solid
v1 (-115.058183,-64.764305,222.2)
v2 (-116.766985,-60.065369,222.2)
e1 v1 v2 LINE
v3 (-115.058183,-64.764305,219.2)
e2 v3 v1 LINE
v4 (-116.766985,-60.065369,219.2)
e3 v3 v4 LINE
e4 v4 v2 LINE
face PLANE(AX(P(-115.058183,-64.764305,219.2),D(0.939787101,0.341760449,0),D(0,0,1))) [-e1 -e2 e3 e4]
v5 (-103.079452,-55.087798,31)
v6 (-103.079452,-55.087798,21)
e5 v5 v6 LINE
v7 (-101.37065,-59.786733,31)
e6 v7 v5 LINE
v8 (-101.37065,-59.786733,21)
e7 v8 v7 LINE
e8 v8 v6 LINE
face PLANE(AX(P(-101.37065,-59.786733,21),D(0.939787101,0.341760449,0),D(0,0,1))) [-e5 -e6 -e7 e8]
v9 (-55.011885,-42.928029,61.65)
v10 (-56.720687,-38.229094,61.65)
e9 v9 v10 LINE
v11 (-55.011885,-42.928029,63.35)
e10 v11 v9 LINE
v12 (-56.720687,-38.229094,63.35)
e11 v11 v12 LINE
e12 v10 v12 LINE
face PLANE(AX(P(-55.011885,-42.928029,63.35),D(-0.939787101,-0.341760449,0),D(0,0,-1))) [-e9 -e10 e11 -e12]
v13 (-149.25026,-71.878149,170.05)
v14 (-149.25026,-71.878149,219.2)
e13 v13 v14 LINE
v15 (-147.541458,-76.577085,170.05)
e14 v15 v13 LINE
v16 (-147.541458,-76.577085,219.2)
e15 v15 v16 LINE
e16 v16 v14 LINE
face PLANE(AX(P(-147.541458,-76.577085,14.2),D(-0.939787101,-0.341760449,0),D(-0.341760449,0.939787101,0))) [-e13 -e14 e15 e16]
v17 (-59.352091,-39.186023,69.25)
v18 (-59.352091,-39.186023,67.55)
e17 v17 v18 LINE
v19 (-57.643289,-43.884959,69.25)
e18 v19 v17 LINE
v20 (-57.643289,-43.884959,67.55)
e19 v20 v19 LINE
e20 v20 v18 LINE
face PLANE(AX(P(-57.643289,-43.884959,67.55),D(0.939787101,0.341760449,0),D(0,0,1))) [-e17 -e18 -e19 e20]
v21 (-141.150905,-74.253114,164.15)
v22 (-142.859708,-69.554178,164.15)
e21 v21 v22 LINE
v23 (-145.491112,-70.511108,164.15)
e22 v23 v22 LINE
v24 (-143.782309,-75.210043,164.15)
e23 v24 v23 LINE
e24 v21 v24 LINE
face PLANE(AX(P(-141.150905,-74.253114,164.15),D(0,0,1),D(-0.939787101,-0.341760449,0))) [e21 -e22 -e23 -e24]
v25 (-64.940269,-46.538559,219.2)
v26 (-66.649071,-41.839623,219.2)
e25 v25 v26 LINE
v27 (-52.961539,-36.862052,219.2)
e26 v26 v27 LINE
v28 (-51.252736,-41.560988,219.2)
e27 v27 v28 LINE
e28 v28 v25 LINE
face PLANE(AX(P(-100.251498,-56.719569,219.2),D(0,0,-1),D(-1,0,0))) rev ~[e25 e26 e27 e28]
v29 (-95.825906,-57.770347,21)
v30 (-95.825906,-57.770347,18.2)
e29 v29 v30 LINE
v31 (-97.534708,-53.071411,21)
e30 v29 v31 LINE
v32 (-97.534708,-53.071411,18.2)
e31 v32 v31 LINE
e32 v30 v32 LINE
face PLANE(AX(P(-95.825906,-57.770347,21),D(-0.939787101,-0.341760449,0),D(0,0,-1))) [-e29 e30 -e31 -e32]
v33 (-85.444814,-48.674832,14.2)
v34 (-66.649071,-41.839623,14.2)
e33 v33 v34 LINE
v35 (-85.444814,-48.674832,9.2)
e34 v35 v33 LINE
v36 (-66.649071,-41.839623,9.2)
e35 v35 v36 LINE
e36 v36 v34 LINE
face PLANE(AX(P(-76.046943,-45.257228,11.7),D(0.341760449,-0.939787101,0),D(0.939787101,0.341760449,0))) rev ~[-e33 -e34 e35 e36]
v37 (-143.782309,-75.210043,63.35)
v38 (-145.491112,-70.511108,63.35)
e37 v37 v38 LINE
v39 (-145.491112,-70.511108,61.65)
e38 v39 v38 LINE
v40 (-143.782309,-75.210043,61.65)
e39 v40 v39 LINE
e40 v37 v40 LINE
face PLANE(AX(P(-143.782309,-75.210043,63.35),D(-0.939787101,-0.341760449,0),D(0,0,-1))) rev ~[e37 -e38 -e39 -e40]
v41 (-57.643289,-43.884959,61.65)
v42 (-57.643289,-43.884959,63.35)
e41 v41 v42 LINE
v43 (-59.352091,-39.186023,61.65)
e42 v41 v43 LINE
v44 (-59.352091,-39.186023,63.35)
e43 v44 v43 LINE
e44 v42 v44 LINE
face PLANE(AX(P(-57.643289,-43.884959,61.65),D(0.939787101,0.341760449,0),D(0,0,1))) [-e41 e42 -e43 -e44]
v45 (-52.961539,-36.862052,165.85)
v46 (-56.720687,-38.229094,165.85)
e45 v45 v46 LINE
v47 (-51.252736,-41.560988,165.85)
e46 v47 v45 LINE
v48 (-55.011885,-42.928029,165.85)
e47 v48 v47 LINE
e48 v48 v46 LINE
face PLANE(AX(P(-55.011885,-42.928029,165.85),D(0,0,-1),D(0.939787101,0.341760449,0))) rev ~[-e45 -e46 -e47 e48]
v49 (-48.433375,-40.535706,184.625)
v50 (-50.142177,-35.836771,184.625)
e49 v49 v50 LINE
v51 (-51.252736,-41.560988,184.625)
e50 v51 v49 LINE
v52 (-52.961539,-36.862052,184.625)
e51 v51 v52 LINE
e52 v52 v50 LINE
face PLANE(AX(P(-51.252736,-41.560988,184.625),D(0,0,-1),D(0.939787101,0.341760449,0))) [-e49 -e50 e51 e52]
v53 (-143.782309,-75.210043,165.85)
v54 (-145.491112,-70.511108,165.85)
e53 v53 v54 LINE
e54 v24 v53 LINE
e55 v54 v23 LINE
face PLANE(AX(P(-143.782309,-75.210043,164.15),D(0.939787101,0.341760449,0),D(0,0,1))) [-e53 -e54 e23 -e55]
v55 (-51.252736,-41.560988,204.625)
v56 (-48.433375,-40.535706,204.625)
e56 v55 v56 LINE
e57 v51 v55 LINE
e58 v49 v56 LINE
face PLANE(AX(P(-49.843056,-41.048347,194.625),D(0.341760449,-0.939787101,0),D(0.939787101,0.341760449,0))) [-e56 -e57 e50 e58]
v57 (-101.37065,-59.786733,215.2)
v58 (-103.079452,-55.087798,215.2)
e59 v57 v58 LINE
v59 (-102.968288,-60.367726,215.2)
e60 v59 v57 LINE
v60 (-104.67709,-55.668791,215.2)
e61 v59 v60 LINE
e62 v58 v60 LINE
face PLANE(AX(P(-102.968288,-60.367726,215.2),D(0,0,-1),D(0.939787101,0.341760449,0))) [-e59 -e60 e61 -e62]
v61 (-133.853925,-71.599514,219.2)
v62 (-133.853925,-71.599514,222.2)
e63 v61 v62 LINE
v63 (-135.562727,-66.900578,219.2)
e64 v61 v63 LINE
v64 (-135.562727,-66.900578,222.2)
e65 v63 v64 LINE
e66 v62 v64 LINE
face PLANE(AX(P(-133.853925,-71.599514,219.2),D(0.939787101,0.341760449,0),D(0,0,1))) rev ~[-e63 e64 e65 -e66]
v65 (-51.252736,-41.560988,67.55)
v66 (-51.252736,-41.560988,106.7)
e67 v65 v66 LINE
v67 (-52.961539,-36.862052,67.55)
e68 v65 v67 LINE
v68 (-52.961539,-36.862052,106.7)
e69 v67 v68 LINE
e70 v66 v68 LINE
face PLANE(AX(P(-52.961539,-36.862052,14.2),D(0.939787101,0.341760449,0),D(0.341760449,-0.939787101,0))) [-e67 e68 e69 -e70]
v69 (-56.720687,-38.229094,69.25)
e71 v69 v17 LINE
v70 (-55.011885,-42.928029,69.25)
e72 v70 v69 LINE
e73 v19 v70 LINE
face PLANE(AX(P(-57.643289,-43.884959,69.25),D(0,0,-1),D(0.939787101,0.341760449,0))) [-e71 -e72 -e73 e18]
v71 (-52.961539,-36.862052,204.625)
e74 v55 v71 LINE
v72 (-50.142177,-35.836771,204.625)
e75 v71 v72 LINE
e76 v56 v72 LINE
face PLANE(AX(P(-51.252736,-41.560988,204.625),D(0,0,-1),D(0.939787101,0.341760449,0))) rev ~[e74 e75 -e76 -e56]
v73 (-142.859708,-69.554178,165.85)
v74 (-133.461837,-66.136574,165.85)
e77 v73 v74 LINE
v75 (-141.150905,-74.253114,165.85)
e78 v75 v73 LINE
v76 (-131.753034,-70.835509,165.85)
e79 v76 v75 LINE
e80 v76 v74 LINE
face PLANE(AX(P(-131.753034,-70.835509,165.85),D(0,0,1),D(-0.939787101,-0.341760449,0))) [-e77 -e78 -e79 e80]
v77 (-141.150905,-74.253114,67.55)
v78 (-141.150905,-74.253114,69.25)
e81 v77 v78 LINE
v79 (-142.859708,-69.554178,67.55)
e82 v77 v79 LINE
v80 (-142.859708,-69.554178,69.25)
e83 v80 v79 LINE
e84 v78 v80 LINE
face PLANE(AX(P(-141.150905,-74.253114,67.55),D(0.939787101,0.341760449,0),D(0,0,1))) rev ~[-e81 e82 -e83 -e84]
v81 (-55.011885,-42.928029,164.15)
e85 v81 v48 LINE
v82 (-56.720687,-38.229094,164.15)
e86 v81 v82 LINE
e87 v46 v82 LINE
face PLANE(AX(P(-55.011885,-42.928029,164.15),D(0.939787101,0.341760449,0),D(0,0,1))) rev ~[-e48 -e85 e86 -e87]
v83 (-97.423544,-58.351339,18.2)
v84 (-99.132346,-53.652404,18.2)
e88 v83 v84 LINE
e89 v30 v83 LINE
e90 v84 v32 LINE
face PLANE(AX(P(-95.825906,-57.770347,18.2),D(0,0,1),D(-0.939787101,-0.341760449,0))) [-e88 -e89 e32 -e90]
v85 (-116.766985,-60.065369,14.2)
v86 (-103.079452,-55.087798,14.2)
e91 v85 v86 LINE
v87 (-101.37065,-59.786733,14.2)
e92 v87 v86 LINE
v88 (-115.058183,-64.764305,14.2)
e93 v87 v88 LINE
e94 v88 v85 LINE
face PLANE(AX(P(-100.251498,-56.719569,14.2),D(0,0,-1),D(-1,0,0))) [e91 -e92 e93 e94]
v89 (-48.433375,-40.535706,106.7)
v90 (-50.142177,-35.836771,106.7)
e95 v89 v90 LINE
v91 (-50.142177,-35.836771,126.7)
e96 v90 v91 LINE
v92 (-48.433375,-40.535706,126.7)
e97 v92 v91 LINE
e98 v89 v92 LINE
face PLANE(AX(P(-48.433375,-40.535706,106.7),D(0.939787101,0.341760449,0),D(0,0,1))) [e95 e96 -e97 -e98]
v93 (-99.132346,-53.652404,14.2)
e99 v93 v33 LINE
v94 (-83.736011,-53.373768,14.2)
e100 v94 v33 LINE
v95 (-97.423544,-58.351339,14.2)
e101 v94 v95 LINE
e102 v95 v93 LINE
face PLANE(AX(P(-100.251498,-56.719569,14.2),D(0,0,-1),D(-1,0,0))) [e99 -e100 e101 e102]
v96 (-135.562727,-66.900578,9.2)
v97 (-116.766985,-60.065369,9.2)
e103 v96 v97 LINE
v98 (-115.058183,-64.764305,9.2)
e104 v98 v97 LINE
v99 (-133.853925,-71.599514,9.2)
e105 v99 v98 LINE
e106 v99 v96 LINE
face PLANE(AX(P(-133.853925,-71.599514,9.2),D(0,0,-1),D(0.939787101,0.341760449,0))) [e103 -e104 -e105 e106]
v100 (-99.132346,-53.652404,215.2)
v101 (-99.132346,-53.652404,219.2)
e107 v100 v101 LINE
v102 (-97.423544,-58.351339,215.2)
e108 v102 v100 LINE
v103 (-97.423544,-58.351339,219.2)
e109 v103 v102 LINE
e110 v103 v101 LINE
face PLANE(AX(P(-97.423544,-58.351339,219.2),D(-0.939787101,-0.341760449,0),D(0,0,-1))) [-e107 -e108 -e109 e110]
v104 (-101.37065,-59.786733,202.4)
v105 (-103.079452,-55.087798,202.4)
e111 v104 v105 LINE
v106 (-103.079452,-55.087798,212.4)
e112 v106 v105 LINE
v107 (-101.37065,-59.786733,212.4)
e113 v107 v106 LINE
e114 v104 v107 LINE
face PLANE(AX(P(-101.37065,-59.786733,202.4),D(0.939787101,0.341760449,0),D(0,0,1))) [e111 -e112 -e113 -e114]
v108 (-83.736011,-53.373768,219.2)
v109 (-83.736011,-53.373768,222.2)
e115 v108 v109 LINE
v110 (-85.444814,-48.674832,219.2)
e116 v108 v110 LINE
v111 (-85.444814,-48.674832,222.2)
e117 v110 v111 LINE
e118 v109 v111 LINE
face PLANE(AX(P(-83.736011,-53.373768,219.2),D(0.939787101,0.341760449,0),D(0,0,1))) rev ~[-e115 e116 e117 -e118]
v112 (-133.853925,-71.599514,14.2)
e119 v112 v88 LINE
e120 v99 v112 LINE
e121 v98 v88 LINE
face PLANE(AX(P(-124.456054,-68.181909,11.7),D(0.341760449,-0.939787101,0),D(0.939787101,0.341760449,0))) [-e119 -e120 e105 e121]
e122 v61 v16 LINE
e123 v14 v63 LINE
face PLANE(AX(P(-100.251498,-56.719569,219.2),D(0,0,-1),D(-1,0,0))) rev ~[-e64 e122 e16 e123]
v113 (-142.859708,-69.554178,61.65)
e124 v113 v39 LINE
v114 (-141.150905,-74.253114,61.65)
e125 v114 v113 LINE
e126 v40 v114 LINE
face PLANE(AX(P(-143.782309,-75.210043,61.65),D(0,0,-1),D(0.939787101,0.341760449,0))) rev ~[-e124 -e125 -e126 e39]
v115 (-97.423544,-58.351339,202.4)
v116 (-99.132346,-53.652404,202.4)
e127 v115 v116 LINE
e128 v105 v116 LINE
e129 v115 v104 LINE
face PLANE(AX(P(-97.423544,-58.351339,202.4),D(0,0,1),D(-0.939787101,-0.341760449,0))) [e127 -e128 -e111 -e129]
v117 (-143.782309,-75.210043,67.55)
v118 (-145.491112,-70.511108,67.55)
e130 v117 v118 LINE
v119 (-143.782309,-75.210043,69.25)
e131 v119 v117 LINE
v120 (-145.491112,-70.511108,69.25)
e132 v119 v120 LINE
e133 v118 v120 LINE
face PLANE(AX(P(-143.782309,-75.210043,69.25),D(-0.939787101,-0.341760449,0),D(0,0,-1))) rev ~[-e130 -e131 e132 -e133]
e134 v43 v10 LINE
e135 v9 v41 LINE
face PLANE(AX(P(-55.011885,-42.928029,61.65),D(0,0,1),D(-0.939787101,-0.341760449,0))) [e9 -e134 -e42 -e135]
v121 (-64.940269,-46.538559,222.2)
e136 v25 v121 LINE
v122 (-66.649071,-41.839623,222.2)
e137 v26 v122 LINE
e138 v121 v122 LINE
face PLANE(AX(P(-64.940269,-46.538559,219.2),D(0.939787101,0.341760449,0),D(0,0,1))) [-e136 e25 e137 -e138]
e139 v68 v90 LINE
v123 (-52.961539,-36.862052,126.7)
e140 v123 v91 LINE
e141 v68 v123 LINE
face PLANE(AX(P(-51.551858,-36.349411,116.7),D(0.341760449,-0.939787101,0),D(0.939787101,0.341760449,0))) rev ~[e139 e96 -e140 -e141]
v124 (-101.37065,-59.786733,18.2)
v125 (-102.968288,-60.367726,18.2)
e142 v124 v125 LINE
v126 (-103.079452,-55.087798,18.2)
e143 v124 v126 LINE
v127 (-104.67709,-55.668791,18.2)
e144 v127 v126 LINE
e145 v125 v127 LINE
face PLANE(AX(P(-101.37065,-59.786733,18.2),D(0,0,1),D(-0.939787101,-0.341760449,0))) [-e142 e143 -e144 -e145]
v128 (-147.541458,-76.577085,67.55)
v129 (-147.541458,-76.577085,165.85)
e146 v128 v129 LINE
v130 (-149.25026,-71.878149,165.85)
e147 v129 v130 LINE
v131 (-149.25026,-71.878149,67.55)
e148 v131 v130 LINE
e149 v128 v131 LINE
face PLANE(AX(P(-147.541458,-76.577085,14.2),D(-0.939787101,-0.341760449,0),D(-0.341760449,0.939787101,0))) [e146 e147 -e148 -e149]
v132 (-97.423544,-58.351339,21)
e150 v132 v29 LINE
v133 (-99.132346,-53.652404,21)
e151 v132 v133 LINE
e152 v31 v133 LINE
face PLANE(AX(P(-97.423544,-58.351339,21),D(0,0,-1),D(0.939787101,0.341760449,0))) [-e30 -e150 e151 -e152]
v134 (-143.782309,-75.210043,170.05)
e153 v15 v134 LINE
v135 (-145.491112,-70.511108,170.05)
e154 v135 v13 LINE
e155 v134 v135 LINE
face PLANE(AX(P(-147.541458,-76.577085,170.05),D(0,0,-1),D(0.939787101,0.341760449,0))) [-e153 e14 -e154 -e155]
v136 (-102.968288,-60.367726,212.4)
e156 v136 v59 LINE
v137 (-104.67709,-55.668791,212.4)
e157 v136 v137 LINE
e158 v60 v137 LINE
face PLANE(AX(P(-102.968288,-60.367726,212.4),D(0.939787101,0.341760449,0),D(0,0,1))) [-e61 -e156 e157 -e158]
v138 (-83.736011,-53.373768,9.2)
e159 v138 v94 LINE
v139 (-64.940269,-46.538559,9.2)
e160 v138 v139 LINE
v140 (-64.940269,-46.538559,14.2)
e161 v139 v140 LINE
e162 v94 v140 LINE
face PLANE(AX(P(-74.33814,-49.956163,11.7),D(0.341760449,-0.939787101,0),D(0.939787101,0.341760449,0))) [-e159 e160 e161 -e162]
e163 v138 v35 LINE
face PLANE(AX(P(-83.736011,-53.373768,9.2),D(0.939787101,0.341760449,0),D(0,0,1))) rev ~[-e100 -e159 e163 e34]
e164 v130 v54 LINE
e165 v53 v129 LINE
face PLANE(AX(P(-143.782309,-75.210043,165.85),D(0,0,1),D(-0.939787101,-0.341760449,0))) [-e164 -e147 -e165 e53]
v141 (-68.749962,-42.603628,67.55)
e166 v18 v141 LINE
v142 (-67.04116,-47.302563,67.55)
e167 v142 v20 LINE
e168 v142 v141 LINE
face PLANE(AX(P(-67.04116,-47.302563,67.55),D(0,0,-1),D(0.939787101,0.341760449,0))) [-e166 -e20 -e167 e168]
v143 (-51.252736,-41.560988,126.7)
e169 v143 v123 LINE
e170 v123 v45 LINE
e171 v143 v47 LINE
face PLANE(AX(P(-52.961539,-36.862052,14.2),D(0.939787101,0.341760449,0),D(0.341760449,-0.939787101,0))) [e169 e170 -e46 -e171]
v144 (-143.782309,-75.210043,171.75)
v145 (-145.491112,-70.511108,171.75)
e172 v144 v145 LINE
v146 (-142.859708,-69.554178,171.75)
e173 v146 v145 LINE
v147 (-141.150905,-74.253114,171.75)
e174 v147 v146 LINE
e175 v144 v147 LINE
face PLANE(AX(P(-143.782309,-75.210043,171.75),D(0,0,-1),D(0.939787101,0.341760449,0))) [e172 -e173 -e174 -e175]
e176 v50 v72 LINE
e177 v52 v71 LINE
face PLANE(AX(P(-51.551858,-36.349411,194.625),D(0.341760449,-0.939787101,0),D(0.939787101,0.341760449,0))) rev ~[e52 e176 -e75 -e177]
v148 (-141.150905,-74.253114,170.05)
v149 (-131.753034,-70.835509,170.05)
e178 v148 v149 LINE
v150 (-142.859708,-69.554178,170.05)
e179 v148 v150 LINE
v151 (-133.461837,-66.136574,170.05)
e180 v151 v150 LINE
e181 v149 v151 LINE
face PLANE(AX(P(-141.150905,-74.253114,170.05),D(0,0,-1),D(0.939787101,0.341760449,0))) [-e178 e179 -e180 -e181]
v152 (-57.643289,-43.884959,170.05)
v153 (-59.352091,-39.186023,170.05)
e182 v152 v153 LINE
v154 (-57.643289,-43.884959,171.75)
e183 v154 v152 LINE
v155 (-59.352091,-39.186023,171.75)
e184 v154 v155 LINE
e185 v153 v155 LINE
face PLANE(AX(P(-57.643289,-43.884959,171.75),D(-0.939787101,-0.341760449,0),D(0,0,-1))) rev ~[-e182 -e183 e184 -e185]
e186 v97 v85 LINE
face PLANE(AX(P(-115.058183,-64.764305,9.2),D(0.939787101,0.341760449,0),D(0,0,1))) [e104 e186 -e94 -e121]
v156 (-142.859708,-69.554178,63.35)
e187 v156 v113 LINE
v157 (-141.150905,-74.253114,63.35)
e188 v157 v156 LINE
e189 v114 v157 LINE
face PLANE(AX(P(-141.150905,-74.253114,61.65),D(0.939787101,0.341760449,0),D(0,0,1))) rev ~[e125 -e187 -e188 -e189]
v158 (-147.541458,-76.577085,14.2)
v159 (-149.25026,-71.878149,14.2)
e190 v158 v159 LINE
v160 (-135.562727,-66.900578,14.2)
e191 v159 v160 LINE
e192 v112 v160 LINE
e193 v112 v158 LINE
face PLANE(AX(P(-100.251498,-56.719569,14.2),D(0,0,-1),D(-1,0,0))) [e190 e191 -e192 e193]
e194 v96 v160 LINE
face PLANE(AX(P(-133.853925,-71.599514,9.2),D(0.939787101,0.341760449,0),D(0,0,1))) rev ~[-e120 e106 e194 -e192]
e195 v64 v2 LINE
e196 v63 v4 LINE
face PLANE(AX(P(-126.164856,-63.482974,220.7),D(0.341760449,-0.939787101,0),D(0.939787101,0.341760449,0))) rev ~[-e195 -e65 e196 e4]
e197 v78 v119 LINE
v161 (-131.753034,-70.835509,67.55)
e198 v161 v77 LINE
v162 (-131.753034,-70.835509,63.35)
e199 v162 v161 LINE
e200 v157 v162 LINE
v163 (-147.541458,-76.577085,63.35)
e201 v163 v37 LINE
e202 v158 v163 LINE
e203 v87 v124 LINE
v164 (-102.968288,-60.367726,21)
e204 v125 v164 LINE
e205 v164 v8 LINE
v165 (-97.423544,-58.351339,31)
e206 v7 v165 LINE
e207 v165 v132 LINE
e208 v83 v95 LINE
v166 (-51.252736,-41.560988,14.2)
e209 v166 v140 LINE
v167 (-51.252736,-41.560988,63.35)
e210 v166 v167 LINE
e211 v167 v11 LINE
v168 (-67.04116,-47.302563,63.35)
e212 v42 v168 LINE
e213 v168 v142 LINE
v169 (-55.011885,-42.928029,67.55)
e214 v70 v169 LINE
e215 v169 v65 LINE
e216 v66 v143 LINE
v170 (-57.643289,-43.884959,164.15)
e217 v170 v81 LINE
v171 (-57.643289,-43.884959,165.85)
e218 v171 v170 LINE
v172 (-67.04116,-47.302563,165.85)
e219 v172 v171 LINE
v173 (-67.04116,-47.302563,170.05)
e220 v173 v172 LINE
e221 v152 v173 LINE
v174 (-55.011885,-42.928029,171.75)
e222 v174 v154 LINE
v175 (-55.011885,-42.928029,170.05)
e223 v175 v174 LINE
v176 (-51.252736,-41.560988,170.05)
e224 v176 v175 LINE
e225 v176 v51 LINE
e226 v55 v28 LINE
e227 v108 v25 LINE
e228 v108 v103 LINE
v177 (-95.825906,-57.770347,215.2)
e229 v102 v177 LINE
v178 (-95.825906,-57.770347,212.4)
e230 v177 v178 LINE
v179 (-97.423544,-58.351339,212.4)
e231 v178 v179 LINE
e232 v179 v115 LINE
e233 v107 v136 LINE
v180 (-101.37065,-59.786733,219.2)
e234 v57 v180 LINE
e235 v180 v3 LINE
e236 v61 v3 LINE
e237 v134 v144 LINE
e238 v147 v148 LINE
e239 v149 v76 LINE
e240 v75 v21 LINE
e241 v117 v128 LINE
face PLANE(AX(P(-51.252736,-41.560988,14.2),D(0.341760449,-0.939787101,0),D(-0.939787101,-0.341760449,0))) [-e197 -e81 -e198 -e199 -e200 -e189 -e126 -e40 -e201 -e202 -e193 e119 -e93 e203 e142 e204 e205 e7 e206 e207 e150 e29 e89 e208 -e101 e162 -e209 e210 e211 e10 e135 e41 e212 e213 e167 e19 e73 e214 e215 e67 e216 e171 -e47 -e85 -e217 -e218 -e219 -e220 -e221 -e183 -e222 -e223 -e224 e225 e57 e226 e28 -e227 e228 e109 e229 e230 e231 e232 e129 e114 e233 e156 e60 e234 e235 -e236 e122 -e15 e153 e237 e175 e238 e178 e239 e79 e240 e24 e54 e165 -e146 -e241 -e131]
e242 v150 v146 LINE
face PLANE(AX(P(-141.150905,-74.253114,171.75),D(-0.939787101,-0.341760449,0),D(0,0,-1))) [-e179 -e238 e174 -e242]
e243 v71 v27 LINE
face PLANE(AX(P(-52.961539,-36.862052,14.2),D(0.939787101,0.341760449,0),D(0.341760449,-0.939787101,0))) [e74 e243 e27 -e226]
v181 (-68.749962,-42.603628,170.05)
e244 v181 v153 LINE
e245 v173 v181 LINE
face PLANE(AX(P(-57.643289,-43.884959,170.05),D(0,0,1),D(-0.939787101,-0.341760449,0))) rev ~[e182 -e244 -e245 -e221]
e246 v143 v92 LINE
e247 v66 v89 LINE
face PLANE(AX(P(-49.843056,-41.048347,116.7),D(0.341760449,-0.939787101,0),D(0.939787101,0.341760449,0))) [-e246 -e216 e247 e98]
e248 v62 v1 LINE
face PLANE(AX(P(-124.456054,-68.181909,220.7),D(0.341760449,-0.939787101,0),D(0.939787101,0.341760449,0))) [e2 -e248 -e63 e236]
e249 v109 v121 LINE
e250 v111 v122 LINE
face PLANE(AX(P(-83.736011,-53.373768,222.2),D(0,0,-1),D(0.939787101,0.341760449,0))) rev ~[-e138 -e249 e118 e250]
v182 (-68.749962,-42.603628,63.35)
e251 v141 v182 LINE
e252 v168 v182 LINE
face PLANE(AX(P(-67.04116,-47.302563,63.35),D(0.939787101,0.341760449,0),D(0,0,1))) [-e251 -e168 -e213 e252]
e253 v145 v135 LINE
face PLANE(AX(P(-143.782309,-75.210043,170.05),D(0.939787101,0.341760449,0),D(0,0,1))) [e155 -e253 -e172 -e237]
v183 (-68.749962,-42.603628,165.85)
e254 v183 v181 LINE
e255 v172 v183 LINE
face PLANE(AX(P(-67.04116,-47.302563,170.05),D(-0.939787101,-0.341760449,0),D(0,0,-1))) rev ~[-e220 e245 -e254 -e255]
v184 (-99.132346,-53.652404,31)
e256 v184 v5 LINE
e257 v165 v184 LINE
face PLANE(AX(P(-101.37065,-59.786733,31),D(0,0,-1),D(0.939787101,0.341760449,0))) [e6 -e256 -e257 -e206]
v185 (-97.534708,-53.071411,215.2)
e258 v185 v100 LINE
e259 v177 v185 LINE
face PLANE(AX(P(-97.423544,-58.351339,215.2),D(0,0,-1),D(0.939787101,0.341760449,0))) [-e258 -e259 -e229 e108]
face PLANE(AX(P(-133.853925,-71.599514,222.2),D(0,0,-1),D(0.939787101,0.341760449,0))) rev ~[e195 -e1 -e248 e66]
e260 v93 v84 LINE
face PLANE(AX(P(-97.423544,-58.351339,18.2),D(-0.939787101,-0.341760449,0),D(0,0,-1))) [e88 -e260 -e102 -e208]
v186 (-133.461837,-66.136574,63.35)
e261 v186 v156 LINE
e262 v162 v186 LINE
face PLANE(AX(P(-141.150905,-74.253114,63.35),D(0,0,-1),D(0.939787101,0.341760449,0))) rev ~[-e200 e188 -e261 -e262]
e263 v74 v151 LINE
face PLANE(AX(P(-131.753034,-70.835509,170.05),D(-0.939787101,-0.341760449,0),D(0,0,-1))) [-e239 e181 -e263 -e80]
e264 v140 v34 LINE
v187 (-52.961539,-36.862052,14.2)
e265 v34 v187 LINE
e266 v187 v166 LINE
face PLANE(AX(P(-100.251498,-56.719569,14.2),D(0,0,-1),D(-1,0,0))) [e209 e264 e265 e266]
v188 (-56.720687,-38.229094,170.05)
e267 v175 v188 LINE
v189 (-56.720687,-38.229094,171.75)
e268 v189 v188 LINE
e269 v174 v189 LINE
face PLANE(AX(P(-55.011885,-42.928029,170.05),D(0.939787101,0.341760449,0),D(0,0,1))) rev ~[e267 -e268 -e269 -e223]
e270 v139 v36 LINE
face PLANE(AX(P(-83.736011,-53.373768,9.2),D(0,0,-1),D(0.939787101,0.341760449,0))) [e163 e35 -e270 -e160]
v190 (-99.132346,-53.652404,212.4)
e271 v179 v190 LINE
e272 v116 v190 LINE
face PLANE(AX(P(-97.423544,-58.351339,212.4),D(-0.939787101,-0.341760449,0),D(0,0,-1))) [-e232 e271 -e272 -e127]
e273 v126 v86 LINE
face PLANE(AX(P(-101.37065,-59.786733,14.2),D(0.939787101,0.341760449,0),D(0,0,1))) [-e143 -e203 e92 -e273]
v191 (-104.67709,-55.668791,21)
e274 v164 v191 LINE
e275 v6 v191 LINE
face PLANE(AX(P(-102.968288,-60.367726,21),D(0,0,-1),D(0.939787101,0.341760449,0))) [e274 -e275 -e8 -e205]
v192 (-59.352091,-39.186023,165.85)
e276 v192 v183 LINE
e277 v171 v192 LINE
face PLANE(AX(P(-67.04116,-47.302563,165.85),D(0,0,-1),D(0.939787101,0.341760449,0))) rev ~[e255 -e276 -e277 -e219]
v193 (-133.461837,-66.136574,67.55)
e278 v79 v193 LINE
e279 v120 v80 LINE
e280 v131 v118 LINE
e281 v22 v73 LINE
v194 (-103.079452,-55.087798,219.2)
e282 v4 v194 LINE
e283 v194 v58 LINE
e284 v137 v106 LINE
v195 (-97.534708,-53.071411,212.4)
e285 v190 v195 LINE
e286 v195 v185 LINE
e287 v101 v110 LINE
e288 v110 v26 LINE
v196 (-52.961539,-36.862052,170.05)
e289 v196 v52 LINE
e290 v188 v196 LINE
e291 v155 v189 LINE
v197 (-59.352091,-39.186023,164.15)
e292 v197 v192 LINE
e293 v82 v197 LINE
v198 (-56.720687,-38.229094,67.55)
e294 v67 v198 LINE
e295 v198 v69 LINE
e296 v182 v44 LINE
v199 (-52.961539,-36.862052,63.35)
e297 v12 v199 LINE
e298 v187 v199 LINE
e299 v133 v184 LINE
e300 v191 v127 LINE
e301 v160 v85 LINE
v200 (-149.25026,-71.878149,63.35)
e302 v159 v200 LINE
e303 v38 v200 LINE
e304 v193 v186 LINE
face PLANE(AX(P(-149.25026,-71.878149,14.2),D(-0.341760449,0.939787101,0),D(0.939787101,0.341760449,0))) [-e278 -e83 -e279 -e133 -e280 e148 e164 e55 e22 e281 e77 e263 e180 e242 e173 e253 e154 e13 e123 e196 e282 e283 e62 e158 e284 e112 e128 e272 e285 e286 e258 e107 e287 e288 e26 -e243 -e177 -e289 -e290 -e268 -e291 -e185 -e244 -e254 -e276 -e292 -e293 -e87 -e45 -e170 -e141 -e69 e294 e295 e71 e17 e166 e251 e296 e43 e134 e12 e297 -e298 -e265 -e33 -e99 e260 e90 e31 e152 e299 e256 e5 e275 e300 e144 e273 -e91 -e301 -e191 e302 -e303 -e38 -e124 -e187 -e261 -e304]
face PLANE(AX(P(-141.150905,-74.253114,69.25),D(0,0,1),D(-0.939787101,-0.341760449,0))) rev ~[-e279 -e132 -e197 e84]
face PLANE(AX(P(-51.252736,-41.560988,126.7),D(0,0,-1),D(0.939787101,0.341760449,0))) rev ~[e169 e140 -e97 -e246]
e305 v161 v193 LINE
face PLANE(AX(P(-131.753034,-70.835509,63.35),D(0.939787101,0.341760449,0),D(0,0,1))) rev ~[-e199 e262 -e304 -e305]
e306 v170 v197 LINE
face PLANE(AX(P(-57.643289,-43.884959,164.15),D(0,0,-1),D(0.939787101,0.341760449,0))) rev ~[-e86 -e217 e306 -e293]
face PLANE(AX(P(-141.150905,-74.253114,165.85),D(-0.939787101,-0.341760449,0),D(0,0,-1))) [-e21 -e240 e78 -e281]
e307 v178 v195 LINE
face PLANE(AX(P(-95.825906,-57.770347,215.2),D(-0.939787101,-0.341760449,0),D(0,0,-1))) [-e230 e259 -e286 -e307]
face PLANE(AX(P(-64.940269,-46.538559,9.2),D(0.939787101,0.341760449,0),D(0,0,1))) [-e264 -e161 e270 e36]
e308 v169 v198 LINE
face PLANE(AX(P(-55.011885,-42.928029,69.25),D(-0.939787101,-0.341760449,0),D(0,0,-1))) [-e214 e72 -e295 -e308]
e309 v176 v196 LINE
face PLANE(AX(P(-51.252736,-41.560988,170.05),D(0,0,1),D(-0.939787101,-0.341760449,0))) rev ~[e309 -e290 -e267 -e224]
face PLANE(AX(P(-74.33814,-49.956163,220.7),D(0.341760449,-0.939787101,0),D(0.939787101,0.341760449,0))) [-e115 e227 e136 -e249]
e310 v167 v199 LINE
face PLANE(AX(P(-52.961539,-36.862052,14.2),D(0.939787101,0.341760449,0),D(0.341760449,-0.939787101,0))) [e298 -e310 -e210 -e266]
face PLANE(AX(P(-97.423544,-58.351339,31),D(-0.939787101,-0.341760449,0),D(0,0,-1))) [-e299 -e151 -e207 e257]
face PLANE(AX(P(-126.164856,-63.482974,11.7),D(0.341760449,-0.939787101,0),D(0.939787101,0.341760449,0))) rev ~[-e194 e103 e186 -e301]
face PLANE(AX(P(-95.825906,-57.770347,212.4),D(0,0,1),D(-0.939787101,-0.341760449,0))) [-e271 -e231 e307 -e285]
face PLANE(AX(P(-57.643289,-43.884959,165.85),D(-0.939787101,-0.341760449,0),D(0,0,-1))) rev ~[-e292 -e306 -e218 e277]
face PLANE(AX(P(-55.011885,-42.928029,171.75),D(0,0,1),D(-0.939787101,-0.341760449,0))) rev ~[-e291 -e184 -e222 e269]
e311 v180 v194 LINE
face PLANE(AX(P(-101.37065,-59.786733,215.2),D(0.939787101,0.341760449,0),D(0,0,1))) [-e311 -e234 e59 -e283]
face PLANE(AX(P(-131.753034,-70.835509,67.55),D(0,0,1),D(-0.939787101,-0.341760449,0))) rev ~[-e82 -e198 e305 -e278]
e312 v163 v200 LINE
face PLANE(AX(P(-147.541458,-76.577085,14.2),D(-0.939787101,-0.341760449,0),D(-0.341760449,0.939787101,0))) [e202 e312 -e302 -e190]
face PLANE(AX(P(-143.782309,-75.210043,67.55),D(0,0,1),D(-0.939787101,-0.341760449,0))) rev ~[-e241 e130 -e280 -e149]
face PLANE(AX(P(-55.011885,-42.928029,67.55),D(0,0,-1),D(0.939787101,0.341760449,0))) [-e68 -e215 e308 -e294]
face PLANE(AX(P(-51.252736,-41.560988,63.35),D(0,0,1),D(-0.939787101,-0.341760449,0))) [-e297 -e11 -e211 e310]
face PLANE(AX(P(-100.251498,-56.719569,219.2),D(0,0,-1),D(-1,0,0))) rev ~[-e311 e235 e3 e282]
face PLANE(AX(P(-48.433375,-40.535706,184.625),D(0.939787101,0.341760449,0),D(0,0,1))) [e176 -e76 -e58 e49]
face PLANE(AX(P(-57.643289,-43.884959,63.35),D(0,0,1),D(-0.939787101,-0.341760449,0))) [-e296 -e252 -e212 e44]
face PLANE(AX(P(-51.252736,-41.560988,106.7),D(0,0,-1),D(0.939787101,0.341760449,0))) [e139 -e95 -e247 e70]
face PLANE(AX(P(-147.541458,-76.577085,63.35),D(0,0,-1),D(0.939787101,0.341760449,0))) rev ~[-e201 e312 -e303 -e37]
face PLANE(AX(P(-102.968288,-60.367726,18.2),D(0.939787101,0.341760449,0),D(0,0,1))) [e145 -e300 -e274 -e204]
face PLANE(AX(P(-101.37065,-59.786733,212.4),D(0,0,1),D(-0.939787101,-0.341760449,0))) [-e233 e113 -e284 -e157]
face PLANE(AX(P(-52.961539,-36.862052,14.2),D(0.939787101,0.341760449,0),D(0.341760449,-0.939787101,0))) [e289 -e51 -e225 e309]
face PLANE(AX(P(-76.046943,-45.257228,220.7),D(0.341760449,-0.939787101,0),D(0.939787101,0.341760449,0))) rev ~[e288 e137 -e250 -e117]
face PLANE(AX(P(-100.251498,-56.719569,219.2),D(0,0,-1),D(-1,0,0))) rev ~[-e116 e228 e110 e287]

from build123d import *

# Parameters (mm, degrees)
BOSS_EXTRUDE1_DEPTH = 205
CUT_EXTRUDE3_DEPTH  = 38.907676661
SKETCH5_W           = 20
SKETCH5_H           = 5
SKETCH5_W_2         = 3
SKETCH5_H_2         = 20
SKETCH5_H_3         = 3
BOSS_EXTRUDE2_DEPTH = 5


with BuildPart() as part:
    # Sketch2 → Boss-Extrude1 (new body)
    with BuildSketch(Plane.XY.offset(14.2)):
        Polygon((-52.961538618, -36.862052104), (-51.252736373, -41.56098761), (-147.541457764, -76.577085001), (-149.250260009, -71.878149495), align=None)
    extrude(amount=BOSS_EXTRUDE1_DEPTH)

    # Sketch4 → Cut-Extrude3 (cut, through all)
    with BuildSketch(Plane(origin=(7.362313595, -20.245196221, 0), x_dir=(-0.939787101, -0.341760449, 0), z_dir=(0.341760449, -0.939787101, 0))):
        Polygon((111.499570088, -14.2), (115.699570088, -14.2), (115.699570088, -18.2), (117.399570088, -18.2), (117.399570088, -21), (115.699570088, -21), (115.699570088, -31), (111.499570088, -31), (111.499570088, -21), (109.799570088, -21), (109.799570088, -18.2), (111.499570088, -18.2), align=None)
        Polygon((62.37056233, -67.55), (62.37056233, -63.35), (66.37056233, -63.35), (66.37056233, -61.65), (69.17056233, -61.65), (69.17056233, -63.35), (79.17056233, -63.35), (79.17056233, -67.55), (69.17056233, -67.55), (69.17056233, -69.25), (66.37056233, -69.25), (66.37056233, -67.55), align=None)
        Polygon((115.699570088, -219.2), (111.499570088, -219.2), (111.499570088, -215.2), (109.799570088, -215.2), (109.799570088, -212.4), (111.499570088, -212.4), (111.499570088, -202.4), (115.699570088, -202.4), (115.699570088, -212.4), (117.399570088, -212.4), (117.399570088, -215.2), (115.699570088, -215.2), align=None)
        Polygon((66.37056233, -170.05), (66.37056233, -171.75), (69.17056233, -171.75), (69.17056233, -170.05), (79.17056233, -170.05), (79.17056233, -165.85), (69.17056233, -165.85), (69.17056233, -164.15), (66.37056233, -164.15), (66.37056233, -165.85), (62.37056233, -165.85), (62.37056233, -170.05), align=None)
        Polygon((164.828577846, -165.85), (164.828577846, -170.05), (160.828577846, -170.05), (160.828577846, -171.75), (158.028577846, -171.75), (158.028577846, -170.05), (148.028577846, -170.05), (148.028577846, -165.85), (158.028577846, -165.85), (158.028577846, -164.15), (160.828577846, -164.15), (160.828577846, -165.85), align=None)
        Polygon((160.828577846, -63.35), (160.828577846, -61.65), (158.028577846, -61.65), (158.028577846, -63.35), (148.028577846, -63.35), (148.028577846, -67.55), (158.028577846, -67.55), (158.028577846, -69.25), (160.828577846, -69.25), (160.828577846, -67.55), (164.828577846, -67.55), (164.828577846, -63.35), align=None)
    extrude(amount=-CUT_EXTRUDE3_DEPTH, mode=Mode.SUBTRACT)

    # Sketch5 → Boss-Extrude2 (add)
    with BuildSketch(Plane(origin=(7.362313595, -20.245196221, 0), x_dir=(0.939787101, 0.341760449, 0), z_dir=(0.341760449, -0.939787101, 0))):
        with Locations((-86.935066209, 11.7)):
            Rectangle(SKETCH5_W, SKETCH5_H)
        with Locations((-140.264073967, 11.7)):
            Rectangle(SKETCH5_W, SKETCH5_H)
        with Locations((-60.87056233, 116.7)):
            Rectangle(SKETCH5_W_2, SKETCH5_H_2)
        with Locations((-60.87056233, 194.625)):
            Rectangle(SKETCH5_W_2, SKETCH5_H_2)
        with Locations((-86.935066209, 220.7)):
            Rectangle(SKETCH5_W, SKETCH5_H_3)
        with Locations((-140.264073967, 220.7)):
            Rectangle(SKETCH5_W, SKETCH5_H_3)
    extrude(amount=-BOSS_EXTRUDE2_DEPTH)


solid = part.part
